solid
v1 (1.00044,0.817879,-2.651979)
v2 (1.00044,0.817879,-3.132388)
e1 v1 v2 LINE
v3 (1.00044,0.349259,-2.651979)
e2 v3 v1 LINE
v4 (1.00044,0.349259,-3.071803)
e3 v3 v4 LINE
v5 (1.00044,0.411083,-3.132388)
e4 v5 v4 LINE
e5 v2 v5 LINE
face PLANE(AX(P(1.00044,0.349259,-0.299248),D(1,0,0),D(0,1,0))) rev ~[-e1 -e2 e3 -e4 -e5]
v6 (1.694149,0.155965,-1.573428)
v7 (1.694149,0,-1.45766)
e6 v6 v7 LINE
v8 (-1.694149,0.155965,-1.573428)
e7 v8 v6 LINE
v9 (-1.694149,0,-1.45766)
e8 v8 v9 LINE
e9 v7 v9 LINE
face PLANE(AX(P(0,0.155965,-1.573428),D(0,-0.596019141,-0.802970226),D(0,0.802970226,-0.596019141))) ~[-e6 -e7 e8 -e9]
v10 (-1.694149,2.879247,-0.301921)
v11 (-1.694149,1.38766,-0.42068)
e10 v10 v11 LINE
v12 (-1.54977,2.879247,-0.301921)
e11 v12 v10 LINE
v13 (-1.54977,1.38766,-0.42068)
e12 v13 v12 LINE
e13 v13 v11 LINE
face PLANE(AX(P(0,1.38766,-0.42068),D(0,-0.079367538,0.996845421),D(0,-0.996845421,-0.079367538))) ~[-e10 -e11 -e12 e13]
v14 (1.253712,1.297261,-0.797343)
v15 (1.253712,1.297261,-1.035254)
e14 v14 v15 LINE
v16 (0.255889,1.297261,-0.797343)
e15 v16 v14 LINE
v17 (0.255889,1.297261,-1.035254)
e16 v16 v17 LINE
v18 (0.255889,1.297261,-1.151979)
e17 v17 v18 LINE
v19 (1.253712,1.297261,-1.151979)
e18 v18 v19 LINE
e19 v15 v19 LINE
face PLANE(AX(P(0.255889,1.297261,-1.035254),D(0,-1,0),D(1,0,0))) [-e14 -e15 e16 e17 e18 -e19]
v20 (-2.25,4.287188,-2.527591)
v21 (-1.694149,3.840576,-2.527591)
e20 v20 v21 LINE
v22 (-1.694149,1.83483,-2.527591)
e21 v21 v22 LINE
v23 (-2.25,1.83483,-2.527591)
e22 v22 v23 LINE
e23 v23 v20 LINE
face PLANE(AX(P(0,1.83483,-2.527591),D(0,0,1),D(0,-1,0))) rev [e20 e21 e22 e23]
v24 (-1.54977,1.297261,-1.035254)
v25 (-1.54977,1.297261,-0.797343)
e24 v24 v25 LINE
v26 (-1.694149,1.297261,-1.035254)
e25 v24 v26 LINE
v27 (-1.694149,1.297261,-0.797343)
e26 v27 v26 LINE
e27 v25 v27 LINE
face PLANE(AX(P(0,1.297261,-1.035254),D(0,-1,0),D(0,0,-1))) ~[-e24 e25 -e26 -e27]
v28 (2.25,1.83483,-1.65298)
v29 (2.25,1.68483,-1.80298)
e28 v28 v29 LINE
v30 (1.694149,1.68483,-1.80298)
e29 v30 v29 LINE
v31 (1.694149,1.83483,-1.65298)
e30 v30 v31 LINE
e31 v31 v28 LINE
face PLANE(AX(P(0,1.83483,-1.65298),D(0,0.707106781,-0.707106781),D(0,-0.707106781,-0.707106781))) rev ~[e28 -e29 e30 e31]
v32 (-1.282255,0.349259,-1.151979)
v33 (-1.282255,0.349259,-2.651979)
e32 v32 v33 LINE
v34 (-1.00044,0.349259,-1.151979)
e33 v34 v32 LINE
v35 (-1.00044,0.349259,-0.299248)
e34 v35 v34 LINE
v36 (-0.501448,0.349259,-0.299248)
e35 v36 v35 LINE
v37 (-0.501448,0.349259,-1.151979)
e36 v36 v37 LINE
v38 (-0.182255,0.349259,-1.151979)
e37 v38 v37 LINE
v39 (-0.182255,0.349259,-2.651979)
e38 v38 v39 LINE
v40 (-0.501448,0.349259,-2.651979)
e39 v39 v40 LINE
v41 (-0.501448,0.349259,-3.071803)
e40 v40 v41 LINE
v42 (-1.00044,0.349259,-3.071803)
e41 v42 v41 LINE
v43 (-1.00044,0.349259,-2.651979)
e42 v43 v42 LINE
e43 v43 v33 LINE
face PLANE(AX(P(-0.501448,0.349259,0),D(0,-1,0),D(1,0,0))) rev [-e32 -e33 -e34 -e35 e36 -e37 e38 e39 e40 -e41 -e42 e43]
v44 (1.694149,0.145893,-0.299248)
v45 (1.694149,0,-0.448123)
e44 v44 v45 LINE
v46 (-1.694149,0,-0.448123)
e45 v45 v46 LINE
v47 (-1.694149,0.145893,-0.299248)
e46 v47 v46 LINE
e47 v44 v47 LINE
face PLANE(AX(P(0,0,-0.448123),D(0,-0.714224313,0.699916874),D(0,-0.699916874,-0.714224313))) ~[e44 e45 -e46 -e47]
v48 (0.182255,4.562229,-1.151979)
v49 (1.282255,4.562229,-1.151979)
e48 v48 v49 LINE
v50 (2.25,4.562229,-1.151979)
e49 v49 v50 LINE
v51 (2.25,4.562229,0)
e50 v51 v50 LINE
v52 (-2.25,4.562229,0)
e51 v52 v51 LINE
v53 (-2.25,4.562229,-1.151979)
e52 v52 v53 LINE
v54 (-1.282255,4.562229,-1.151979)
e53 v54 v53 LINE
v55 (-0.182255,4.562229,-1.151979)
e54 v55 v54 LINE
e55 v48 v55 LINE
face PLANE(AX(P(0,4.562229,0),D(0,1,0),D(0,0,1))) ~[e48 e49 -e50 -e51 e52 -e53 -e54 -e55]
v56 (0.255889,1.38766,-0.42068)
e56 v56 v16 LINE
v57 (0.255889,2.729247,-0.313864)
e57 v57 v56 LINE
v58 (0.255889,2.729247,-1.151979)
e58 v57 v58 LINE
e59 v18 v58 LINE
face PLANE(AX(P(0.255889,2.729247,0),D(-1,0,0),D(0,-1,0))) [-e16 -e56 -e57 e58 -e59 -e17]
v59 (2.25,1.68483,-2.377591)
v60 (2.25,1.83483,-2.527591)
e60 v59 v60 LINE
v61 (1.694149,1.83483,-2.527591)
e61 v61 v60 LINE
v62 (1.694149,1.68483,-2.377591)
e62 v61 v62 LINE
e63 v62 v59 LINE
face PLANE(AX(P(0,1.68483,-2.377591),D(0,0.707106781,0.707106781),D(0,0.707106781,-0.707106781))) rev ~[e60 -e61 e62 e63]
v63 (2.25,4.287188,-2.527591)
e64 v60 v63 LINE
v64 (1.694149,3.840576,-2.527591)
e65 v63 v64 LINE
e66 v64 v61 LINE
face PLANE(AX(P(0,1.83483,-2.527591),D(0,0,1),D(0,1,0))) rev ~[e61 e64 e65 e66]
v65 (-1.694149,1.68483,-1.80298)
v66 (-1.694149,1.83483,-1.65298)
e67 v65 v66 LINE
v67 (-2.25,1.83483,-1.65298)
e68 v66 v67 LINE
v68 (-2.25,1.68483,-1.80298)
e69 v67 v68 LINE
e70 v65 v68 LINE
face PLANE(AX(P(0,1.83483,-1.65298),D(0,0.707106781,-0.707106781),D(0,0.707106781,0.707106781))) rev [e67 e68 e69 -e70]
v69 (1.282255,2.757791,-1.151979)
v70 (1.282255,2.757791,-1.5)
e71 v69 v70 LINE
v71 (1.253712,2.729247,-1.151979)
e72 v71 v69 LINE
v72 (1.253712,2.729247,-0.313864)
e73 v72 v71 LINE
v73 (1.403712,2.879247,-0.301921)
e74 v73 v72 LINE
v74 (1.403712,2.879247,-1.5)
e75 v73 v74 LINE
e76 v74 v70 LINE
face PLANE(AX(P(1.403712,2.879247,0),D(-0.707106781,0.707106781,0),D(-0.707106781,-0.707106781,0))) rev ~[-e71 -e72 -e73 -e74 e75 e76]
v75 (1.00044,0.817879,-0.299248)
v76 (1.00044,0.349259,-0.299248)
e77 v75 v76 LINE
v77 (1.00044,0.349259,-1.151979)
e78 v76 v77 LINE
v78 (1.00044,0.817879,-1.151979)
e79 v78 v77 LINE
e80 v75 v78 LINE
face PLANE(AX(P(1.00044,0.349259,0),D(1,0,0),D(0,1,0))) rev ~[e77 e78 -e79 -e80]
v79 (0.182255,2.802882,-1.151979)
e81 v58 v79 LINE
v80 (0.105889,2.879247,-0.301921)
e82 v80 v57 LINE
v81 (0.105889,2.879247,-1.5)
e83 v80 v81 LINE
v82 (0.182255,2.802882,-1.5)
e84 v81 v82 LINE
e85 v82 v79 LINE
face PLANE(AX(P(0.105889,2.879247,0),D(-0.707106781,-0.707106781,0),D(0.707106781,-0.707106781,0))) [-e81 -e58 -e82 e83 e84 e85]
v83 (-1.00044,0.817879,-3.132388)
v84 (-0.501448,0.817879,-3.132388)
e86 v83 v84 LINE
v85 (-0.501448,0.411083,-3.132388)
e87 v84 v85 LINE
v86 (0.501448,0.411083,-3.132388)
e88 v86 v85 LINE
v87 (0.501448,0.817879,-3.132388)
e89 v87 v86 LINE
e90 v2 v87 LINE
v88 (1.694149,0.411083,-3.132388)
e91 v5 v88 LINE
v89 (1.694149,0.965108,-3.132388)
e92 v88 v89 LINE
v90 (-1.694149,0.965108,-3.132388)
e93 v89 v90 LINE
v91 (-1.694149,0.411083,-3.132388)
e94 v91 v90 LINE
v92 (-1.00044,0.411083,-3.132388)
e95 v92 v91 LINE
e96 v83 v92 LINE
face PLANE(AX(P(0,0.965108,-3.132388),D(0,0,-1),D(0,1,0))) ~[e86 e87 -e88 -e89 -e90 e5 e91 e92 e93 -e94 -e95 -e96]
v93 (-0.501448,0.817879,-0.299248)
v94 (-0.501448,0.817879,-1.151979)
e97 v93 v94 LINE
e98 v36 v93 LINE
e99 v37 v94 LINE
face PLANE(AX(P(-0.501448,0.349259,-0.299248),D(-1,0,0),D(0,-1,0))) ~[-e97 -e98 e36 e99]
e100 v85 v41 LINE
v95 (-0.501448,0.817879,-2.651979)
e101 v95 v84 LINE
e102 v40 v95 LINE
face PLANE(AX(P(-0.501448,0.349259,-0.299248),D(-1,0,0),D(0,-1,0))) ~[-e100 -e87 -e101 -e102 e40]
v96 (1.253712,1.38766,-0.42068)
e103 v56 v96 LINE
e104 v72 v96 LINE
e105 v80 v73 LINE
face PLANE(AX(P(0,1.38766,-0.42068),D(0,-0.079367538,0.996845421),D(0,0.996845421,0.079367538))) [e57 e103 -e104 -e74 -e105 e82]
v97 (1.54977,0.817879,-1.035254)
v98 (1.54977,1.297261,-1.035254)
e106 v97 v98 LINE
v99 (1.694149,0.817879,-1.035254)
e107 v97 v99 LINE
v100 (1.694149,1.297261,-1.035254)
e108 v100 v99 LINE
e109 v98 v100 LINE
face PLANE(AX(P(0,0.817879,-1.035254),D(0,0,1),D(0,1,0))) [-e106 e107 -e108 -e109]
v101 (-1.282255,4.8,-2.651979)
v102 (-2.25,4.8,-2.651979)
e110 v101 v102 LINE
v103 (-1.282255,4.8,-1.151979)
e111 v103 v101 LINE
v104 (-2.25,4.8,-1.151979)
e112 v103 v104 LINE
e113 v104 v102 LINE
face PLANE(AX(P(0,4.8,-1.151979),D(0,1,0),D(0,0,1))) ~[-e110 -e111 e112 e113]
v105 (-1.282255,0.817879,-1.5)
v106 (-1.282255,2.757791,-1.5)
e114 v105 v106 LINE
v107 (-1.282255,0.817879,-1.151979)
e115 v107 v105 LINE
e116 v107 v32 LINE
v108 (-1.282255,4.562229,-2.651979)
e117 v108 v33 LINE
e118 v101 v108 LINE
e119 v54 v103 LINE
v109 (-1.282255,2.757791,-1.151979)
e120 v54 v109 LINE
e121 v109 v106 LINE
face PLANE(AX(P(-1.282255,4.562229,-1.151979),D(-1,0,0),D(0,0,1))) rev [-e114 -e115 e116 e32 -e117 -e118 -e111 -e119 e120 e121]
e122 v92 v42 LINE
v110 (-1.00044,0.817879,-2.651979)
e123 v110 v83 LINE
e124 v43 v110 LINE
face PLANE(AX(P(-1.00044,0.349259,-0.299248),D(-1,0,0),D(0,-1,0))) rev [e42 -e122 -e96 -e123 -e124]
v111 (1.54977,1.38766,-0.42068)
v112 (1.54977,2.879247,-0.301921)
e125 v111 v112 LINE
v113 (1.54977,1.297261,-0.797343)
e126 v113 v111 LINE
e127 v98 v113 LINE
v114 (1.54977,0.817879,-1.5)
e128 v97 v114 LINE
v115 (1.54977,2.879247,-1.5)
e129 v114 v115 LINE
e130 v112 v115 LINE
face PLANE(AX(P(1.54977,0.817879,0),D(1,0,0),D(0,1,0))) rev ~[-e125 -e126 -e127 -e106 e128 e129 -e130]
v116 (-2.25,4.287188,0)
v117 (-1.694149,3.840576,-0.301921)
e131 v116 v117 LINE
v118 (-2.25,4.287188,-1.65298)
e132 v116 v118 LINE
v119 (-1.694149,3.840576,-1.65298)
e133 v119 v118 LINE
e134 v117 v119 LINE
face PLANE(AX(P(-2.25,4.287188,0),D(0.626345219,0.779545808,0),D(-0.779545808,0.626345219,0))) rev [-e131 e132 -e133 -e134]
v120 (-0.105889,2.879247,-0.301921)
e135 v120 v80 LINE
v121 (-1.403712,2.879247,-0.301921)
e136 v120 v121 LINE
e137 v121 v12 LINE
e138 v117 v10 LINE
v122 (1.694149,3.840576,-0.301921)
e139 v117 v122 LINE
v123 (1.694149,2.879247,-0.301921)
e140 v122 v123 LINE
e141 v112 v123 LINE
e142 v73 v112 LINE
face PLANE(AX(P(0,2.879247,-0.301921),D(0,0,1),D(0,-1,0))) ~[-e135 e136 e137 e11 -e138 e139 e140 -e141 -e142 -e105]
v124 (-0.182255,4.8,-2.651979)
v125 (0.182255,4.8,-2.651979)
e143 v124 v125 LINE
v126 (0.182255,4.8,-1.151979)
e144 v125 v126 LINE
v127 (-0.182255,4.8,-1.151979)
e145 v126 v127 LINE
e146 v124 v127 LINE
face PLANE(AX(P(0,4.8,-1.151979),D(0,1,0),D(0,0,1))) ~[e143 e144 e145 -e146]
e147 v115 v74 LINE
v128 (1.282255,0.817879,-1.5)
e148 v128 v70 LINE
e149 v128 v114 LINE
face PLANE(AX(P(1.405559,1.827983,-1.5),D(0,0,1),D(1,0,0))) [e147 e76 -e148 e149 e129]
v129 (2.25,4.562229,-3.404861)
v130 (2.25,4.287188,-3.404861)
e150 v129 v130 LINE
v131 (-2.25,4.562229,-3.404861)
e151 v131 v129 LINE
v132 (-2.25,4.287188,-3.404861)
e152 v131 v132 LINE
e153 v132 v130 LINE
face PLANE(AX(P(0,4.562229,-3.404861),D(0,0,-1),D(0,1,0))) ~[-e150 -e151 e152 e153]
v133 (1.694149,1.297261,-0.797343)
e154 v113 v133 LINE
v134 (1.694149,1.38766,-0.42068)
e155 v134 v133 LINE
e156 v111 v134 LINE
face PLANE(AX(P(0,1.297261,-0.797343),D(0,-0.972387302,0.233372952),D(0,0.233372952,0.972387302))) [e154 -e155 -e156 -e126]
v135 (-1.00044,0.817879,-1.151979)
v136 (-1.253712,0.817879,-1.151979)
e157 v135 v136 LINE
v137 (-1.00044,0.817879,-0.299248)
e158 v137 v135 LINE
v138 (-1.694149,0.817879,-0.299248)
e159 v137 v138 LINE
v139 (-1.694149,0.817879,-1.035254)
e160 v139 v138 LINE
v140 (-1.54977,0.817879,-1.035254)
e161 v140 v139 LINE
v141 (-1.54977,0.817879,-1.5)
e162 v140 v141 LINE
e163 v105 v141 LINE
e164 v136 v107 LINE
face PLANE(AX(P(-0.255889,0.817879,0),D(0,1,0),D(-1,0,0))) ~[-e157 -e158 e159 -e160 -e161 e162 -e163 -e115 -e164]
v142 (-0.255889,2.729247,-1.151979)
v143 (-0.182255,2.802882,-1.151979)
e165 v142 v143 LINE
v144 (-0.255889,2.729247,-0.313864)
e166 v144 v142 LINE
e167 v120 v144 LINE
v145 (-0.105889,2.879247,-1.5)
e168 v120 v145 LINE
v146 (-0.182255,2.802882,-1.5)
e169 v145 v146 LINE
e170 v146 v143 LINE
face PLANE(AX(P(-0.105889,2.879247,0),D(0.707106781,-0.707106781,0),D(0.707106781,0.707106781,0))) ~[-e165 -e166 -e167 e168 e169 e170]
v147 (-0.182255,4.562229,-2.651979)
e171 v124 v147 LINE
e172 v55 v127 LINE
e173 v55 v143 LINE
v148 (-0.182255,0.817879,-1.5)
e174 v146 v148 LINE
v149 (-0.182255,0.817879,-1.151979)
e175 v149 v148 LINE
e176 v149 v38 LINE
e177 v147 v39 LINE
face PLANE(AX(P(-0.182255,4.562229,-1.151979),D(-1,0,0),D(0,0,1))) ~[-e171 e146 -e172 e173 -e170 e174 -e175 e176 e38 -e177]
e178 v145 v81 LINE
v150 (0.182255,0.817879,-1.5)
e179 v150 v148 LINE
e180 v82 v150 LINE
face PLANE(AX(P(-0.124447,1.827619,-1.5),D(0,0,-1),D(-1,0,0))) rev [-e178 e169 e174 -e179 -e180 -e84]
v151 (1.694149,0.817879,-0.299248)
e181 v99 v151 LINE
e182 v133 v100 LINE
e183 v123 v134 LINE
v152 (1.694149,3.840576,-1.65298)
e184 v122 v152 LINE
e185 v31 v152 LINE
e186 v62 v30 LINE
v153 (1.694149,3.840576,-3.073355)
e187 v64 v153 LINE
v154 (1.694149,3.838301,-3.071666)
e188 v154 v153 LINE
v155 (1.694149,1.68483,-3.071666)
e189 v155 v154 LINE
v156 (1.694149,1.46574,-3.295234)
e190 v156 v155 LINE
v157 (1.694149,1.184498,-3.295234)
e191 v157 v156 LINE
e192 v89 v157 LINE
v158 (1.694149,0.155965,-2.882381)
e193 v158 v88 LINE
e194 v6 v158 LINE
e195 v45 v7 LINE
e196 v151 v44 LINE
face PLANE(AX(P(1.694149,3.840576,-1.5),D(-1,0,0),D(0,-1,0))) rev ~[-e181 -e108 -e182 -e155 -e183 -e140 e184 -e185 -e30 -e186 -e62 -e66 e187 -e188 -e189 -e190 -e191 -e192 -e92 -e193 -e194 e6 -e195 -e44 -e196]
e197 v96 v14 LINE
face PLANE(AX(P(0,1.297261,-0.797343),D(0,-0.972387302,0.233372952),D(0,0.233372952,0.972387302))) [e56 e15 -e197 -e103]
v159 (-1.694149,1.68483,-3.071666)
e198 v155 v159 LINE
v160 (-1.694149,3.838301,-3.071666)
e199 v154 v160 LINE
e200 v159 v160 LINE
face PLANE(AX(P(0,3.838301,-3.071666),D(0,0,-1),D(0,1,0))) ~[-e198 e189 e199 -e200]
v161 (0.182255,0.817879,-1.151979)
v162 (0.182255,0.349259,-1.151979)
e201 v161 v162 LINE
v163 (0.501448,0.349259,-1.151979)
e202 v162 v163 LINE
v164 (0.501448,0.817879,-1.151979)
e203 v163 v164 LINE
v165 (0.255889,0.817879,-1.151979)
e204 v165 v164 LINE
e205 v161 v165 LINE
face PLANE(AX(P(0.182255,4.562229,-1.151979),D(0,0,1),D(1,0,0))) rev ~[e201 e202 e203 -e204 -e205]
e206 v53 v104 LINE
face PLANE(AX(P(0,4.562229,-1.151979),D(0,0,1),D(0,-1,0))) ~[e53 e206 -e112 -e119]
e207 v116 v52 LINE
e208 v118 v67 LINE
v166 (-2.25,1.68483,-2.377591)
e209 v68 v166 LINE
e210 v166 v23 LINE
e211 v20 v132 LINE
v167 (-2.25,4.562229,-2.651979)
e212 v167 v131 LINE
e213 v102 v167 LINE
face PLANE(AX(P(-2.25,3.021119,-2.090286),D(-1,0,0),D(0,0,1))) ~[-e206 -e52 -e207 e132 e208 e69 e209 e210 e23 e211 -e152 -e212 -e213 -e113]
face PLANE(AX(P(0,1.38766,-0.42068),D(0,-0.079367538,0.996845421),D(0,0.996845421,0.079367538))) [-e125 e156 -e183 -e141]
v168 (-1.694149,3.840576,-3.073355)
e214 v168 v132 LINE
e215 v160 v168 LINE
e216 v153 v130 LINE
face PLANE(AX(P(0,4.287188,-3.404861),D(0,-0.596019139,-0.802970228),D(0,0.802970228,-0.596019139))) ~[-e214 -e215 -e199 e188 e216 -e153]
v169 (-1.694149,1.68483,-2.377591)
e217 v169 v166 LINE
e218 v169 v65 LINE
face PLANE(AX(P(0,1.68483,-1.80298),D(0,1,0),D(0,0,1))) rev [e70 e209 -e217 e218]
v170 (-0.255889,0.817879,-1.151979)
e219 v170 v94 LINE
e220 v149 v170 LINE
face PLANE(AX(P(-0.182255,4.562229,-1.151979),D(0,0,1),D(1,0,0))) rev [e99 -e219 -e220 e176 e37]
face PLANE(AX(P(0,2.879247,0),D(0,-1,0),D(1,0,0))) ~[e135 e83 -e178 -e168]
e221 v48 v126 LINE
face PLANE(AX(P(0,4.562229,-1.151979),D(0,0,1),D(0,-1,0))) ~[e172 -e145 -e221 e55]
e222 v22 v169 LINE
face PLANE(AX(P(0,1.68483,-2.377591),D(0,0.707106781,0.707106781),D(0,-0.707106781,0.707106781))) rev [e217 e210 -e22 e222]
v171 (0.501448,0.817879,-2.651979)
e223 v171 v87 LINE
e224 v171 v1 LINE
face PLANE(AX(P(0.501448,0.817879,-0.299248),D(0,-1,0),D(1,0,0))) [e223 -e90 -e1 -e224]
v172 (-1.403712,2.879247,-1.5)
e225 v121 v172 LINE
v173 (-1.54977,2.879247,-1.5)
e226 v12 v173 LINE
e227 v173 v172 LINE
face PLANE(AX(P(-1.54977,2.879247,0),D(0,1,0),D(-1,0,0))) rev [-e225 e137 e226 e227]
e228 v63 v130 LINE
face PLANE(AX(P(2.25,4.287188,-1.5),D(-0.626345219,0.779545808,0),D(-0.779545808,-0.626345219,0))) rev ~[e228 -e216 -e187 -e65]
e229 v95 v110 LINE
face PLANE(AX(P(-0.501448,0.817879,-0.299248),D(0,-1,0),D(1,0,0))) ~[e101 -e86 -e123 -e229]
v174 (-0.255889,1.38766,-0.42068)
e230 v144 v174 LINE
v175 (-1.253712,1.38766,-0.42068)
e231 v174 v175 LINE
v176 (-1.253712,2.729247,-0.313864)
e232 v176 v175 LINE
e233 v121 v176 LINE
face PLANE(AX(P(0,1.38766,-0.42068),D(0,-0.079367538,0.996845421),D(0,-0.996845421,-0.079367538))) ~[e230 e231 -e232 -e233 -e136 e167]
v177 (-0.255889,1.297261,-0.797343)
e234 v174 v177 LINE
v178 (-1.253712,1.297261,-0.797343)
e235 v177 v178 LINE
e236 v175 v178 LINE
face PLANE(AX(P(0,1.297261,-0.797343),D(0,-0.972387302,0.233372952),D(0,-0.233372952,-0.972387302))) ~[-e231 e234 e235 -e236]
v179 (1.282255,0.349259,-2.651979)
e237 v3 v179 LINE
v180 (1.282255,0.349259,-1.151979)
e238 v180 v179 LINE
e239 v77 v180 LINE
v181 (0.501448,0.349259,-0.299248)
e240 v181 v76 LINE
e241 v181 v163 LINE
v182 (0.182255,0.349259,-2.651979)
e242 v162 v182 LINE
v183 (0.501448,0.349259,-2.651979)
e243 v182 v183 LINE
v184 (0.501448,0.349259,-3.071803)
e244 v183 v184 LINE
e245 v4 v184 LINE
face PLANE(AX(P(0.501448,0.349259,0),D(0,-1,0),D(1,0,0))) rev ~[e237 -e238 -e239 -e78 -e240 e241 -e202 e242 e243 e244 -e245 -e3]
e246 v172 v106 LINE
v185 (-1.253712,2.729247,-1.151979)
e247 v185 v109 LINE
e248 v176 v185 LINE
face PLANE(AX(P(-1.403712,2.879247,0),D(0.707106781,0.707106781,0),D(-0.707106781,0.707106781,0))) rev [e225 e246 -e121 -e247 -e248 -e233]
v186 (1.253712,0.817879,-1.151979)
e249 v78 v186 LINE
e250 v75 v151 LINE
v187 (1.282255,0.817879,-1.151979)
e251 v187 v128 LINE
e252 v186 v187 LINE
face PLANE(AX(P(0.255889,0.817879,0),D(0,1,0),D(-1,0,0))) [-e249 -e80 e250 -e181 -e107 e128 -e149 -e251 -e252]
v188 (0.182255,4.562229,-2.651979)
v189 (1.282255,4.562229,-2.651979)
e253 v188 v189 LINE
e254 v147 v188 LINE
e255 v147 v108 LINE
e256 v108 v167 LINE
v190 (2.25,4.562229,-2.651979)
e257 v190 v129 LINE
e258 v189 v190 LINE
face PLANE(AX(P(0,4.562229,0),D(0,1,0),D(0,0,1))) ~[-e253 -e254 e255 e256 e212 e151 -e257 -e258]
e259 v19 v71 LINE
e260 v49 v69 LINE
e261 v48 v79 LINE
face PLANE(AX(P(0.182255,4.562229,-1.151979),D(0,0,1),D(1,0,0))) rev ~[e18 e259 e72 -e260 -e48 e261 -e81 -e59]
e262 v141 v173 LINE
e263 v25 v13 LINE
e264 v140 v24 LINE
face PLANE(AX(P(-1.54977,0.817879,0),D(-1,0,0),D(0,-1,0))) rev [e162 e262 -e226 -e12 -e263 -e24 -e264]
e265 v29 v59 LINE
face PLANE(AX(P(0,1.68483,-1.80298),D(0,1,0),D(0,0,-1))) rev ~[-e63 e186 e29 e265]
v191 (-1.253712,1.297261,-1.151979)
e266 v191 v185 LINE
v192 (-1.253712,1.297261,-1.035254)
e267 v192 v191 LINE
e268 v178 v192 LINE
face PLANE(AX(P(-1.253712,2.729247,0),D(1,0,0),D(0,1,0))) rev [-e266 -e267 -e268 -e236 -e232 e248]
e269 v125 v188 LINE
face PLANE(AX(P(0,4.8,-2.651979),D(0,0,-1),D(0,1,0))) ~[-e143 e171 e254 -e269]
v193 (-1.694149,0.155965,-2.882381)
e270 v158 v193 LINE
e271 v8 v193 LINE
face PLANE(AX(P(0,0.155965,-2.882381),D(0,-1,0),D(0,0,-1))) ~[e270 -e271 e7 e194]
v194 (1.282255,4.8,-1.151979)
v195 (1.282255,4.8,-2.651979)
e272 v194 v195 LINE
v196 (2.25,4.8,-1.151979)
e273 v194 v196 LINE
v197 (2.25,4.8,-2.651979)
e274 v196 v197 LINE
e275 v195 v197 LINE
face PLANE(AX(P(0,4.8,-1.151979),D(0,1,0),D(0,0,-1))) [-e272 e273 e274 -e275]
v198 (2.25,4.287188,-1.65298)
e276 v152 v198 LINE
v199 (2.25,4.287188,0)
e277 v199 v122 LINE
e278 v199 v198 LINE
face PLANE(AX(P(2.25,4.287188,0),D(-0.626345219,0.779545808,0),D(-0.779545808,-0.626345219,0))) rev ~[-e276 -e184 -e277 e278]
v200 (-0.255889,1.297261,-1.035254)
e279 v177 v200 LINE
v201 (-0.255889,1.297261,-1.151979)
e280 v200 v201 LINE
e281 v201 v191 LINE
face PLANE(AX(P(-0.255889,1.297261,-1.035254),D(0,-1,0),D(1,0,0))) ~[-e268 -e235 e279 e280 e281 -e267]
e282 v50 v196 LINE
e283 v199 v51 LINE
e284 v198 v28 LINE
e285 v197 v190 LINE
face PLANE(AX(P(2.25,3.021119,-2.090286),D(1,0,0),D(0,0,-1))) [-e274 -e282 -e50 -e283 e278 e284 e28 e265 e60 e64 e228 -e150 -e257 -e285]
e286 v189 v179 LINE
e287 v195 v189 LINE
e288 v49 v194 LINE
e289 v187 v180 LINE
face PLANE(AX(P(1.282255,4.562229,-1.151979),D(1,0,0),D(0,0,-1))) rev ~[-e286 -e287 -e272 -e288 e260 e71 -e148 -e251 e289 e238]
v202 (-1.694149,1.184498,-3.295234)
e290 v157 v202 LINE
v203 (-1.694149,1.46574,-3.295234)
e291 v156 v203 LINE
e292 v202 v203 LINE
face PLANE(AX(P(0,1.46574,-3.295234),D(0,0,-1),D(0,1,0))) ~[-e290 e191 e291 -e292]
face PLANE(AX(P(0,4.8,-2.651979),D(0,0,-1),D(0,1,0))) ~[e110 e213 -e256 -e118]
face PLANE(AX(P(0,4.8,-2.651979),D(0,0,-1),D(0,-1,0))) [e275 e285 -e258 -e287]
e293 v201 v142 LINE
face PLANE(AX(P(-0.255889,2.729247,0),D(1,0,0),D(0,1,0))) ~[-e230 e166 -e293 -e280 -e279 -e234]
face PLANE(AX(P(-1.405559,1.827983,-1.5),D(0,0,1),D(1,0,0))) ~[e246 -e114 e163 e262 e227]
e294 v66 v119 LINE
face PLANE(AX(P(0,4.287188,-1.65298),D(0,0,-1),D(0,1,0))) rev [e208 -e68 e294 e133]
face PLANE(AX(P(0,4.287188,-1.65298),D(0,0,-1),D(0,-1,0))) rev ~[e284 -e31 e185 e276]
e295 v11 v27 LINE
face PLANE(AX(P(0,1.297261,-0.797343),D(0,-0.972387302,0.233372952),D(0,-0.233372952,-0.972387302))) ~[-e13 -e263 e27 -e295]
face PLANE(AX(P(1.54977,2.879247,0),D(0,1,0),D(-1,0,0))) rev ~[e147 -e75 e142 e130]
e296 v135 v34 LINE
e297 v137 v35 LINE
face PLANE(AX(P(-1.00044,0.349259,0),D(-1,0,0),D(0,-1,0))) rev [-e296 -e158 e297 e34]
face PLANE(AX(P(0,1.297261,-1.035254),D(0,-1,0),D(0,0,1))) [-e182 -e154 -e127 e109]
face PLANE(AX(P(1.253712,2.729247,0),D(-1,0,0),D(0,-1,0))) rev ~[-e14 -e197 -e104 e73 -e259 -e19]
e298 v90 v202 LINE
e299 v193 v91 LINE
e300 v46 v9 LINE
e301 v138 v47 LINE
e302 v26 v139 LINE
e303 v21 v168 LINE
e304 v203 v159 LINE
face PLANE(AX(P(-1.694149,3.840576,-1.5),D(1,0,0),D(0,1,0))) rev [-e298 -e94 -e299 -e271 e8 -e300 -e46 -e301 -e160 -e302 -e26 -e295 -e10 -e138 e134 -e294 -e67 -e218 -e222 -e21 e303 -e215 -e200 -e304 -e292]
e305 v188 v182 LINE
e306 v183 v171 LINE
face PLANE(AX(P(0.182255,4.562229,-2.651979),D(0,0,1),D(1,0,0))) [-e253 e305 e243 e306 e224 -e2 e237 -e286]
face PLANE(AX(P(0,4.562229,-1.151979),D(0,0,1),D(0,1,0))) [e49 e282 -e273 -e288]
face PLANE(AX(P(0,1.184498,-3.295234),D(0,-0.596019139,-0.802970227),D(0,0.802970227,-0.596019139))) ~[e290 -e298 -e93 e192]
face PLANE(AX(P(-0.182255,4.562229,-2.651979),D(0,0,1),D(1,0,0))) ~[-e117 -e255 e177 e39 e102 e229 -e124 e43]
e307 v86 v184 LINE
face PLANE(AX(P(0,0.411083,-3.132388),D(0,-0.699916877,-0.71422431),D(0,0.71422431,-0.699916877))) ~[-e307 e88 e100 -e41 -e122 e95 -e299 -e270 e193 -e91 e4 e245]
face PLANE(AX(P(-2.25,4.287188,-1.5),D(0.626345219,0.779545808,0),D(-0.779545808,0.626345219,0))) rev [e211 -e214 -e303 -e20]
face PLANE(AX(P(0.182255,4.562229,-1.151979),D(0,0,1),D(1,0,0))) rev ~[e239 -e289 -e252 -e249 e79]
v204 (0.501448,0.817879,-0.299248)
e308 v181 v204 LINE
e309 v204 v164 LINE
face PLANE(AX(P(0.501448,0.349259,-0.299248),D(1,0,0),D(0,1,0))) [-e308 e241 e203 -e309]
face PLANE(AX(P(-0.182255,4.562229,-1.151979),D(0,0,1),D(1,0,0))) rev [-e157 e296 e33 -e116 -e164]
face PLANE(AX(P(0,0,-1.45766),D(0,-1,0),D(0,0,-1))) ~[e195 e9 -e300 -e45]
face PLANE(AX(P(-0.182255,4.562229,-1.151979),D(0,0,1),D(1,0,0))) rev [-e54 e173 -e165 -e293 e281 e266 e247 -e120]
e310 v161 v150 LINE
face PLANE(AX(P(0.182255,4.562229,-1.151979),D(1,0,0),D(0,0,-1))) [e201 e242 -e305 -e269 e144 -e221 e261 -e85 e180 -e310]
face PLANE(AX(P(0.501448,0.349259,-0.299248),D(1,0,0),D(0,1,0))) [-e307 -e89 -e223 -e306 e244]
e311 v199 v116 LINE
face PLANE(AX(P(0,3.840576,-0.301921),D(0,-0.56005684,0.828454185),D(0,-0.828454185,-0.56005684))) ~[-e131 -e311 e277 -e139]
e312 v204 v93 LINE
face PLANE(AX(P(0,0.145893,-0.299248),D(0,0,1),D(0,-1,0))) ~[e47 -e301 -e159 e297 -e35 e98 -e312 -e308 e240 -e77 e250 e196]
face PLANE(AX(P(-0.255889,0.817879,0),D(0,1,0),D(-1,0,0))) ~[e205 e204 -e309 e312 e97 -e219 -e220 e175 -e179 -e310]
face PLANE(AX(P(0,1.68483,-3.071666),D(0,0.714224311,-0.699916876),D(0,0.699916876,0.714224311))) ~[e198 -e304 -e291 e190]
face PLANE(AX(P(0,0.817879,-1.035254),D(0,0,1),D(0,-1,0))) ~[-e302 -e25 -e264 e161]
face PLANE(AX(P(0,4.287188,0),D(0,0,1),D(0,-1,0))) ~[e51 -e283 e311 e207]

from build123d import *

# Parameters (mm, degrees)
EXTRUDE_1_DEPTH     = 2.25
SKETCH_2_W          = 1.1
SKETCH_2_H          = 0.473559538
SKETCH_2_W_2        = 0.498992391
SKETCH_2_H_2        = 0.307326439
CUT_EXTRUDE_1_DEPTH = 1.5
SKETCH_5_W          = 1.1
SKETCH_5_H          = 0.237770676
CUT_EXTRUDE_3_DEPTH = 6.633027066
EXTRUDE_2_DEPTH     = 2.25
SKETCH_4_W          = 1.1
SKETCH_4_H          = 1.5
CUT_EXTRUDE_2_DEPTH = 4.212970342
SKETCH_6_W          = 0.997822092
SKETCH_6_H          = 0.479381763
CUT_EXTRUDE_4_DEPTH = 0.2
SKETCH_7_W          = 0.498992391
SKETCH_7_H          = 0.468620273
CUT_EXTRUDE_5_DEPTH = 7.143885496


with BuildPart() as part:
    # 草图1 → 凸台-拉伸1 (new body)
    with BuildSketch(Plane(origin=(0, 0, 0), x_dir=(0, 0, -1), z_dir=(1, 0, 0))):
        Polygon((0, 4.562229324), (1.151979455, 4.562229324), (1.151979455, 4.8), (2.651979455, 4.8), (2.651979455, 4.562229324), (3.404860606, 4.562229324), (3.404860606, 4.287187795), (3.071666363, 3.838301107), (3.071666363, 1.684829824), (3.295234427, 1.465740305), (3.295234427, 1.184498299), (3.132388227, 0.96510828), (3.132388227, 0.411082783), (2.882381357, 0.155965368), (1.573428318, 0.155965368), (1.457660209, 0), (0.448123395, 0), (0.299248107, 0.145892998), (0.299248107, 0.817879256), (1.035254024, 0.817879256), (1.035254024, 1.297261019), (0.797343028, 1.297261019), (0.420679628, 1.387660235), (0.301921402, 2.879247301), (0.301921402, 3.840575896), (0, 4.287187795), align=None)
        Polygon((1.652980181, 1.834829824), (1.802980181, 1.684829824), (2.377591251, 1.684829824), (2.527591251, 1.834829824), (2.527591251, 4.287187795), (1.652980181, 4.287187795), align=None, mode=Mode.SUBTRACT)
    extrude(amount=EXTRUDE_1_DEPTH)

    # 草图2 → 切除-拉伸1 (cut)
    with BuildSketch(Plane.XY):
        Polygon((2.25, 4.287187795), (1.694149292, 3.840575896), (1.694149292, 2.879247301), (1.694149292, 0.817879256), (1.694149292, 0), (2.25, 0), align=None)
        with Locations((0.732254764, 4.799009093)):
            Rectangle(SKETCH_2_W, SKETCH_2_H)
        Polygon((1.253711529, 2.729247301), (1.253711529, 0.817879256), (1.403711529, 0.817879256), (1.549770068, 0.817879256), (1.549770068, 2.879247301), (1.403711529, 2.879247301), align=None)
        Polygon((0, 2.879247301), (0.105889437, 2.879247301), (0.255889437, 2.729247301), (0.255889437, 0.817879256), (0, 0.817879256), align=None)
        with Locations((0.750944102, 0.502922202)):
            Rectangle(SKETCH_2_W_2, SKETCH_2_H_2)
    extrude(amount=-CUT_EXTRUDE_1_DEPTH, mode=Mode.SUBTRACT)

    # 草图5 → 切除-拉伸3 (cut, through all)
    with BuildSketch(Plane.XY.offset(-1.5)):
        with Locations((0.732254764, 4.681114662)):
            Rectangle(SKETCH_5_W, SKETCH_5_H)
        Polygon((2.25, 0.057041107), (2.25, 4.287187795), (1.694149292, 3.840575896), (1.694149292, 0.057041107), align=None)
    extrude(amount=-CUT_EXTRUDE_3_DEPTH, mode=Mode.SUBTRACT)

    # 草图3 → 凸台-拉伸2 (add)
    with BuildSketch(Plane.ZY):
        Polygon((-1.652980181, 4.287187795), (-1.652980181, 1.834829824), (-1.802980181, 1.684829824), (-2.377591251, 1.684829824), (-2.527591251, 1.834829824), (-2.527591251, 4.287187795), align=None)
    extrude(amount=-EXTRUDE_2_DEPTH)

    # 草图4 → 切除-拉伸2 (cut)
    with BuildSketch(Plane(origin=(0, 4.562229324, 0), x_dir=(1, 0, 0), z_dir=(0, 1, 0))):
        with Locations((0.732254764, 1.901979455)):
            Rectangle(SKETCH_4_W, SKETCH_4_H)
    extrude(amount=-CUT_EXTRUDE_2_DEPTH, mode=Mode.SUBTRACT)

    # 草图6 → 切除-拉伸4 (cut)
    with BuildSketch(Plane.XY.offset(-1.035254024)):
        with Locations((0.754800483, 1.057570137)):
            Rectangle(SKETCH_6_W, SKETCH_6_H)
    extrude(amount=-CUT_EXTRUDE_4_DEPTH, mode=Mode.SUBTRACT)

    # 草图7 → 切除-拉伸5 (cut, through all)
    with BuildSketch(Plane.XY.offset(-0.299248107)):
        with Locations((0.750944102, 0.58356912)):
            Rectangle(SKETCH_7_W, SKETCH_7_H)
    extrude(amount=-CUT_EXTRUDE_5_DEPTH, mode=Mode.SUBTRACT)

    # 镜向1: part across face


with BuildPart() as part_1:
    add(part.part)
    add(part.part.mirror(Plane(origin=(0, 2.559271295, -1.883517387), x_dir=(0, 0, 1), z_dir=(-1, 0, 0))))


solid = part_1.part
